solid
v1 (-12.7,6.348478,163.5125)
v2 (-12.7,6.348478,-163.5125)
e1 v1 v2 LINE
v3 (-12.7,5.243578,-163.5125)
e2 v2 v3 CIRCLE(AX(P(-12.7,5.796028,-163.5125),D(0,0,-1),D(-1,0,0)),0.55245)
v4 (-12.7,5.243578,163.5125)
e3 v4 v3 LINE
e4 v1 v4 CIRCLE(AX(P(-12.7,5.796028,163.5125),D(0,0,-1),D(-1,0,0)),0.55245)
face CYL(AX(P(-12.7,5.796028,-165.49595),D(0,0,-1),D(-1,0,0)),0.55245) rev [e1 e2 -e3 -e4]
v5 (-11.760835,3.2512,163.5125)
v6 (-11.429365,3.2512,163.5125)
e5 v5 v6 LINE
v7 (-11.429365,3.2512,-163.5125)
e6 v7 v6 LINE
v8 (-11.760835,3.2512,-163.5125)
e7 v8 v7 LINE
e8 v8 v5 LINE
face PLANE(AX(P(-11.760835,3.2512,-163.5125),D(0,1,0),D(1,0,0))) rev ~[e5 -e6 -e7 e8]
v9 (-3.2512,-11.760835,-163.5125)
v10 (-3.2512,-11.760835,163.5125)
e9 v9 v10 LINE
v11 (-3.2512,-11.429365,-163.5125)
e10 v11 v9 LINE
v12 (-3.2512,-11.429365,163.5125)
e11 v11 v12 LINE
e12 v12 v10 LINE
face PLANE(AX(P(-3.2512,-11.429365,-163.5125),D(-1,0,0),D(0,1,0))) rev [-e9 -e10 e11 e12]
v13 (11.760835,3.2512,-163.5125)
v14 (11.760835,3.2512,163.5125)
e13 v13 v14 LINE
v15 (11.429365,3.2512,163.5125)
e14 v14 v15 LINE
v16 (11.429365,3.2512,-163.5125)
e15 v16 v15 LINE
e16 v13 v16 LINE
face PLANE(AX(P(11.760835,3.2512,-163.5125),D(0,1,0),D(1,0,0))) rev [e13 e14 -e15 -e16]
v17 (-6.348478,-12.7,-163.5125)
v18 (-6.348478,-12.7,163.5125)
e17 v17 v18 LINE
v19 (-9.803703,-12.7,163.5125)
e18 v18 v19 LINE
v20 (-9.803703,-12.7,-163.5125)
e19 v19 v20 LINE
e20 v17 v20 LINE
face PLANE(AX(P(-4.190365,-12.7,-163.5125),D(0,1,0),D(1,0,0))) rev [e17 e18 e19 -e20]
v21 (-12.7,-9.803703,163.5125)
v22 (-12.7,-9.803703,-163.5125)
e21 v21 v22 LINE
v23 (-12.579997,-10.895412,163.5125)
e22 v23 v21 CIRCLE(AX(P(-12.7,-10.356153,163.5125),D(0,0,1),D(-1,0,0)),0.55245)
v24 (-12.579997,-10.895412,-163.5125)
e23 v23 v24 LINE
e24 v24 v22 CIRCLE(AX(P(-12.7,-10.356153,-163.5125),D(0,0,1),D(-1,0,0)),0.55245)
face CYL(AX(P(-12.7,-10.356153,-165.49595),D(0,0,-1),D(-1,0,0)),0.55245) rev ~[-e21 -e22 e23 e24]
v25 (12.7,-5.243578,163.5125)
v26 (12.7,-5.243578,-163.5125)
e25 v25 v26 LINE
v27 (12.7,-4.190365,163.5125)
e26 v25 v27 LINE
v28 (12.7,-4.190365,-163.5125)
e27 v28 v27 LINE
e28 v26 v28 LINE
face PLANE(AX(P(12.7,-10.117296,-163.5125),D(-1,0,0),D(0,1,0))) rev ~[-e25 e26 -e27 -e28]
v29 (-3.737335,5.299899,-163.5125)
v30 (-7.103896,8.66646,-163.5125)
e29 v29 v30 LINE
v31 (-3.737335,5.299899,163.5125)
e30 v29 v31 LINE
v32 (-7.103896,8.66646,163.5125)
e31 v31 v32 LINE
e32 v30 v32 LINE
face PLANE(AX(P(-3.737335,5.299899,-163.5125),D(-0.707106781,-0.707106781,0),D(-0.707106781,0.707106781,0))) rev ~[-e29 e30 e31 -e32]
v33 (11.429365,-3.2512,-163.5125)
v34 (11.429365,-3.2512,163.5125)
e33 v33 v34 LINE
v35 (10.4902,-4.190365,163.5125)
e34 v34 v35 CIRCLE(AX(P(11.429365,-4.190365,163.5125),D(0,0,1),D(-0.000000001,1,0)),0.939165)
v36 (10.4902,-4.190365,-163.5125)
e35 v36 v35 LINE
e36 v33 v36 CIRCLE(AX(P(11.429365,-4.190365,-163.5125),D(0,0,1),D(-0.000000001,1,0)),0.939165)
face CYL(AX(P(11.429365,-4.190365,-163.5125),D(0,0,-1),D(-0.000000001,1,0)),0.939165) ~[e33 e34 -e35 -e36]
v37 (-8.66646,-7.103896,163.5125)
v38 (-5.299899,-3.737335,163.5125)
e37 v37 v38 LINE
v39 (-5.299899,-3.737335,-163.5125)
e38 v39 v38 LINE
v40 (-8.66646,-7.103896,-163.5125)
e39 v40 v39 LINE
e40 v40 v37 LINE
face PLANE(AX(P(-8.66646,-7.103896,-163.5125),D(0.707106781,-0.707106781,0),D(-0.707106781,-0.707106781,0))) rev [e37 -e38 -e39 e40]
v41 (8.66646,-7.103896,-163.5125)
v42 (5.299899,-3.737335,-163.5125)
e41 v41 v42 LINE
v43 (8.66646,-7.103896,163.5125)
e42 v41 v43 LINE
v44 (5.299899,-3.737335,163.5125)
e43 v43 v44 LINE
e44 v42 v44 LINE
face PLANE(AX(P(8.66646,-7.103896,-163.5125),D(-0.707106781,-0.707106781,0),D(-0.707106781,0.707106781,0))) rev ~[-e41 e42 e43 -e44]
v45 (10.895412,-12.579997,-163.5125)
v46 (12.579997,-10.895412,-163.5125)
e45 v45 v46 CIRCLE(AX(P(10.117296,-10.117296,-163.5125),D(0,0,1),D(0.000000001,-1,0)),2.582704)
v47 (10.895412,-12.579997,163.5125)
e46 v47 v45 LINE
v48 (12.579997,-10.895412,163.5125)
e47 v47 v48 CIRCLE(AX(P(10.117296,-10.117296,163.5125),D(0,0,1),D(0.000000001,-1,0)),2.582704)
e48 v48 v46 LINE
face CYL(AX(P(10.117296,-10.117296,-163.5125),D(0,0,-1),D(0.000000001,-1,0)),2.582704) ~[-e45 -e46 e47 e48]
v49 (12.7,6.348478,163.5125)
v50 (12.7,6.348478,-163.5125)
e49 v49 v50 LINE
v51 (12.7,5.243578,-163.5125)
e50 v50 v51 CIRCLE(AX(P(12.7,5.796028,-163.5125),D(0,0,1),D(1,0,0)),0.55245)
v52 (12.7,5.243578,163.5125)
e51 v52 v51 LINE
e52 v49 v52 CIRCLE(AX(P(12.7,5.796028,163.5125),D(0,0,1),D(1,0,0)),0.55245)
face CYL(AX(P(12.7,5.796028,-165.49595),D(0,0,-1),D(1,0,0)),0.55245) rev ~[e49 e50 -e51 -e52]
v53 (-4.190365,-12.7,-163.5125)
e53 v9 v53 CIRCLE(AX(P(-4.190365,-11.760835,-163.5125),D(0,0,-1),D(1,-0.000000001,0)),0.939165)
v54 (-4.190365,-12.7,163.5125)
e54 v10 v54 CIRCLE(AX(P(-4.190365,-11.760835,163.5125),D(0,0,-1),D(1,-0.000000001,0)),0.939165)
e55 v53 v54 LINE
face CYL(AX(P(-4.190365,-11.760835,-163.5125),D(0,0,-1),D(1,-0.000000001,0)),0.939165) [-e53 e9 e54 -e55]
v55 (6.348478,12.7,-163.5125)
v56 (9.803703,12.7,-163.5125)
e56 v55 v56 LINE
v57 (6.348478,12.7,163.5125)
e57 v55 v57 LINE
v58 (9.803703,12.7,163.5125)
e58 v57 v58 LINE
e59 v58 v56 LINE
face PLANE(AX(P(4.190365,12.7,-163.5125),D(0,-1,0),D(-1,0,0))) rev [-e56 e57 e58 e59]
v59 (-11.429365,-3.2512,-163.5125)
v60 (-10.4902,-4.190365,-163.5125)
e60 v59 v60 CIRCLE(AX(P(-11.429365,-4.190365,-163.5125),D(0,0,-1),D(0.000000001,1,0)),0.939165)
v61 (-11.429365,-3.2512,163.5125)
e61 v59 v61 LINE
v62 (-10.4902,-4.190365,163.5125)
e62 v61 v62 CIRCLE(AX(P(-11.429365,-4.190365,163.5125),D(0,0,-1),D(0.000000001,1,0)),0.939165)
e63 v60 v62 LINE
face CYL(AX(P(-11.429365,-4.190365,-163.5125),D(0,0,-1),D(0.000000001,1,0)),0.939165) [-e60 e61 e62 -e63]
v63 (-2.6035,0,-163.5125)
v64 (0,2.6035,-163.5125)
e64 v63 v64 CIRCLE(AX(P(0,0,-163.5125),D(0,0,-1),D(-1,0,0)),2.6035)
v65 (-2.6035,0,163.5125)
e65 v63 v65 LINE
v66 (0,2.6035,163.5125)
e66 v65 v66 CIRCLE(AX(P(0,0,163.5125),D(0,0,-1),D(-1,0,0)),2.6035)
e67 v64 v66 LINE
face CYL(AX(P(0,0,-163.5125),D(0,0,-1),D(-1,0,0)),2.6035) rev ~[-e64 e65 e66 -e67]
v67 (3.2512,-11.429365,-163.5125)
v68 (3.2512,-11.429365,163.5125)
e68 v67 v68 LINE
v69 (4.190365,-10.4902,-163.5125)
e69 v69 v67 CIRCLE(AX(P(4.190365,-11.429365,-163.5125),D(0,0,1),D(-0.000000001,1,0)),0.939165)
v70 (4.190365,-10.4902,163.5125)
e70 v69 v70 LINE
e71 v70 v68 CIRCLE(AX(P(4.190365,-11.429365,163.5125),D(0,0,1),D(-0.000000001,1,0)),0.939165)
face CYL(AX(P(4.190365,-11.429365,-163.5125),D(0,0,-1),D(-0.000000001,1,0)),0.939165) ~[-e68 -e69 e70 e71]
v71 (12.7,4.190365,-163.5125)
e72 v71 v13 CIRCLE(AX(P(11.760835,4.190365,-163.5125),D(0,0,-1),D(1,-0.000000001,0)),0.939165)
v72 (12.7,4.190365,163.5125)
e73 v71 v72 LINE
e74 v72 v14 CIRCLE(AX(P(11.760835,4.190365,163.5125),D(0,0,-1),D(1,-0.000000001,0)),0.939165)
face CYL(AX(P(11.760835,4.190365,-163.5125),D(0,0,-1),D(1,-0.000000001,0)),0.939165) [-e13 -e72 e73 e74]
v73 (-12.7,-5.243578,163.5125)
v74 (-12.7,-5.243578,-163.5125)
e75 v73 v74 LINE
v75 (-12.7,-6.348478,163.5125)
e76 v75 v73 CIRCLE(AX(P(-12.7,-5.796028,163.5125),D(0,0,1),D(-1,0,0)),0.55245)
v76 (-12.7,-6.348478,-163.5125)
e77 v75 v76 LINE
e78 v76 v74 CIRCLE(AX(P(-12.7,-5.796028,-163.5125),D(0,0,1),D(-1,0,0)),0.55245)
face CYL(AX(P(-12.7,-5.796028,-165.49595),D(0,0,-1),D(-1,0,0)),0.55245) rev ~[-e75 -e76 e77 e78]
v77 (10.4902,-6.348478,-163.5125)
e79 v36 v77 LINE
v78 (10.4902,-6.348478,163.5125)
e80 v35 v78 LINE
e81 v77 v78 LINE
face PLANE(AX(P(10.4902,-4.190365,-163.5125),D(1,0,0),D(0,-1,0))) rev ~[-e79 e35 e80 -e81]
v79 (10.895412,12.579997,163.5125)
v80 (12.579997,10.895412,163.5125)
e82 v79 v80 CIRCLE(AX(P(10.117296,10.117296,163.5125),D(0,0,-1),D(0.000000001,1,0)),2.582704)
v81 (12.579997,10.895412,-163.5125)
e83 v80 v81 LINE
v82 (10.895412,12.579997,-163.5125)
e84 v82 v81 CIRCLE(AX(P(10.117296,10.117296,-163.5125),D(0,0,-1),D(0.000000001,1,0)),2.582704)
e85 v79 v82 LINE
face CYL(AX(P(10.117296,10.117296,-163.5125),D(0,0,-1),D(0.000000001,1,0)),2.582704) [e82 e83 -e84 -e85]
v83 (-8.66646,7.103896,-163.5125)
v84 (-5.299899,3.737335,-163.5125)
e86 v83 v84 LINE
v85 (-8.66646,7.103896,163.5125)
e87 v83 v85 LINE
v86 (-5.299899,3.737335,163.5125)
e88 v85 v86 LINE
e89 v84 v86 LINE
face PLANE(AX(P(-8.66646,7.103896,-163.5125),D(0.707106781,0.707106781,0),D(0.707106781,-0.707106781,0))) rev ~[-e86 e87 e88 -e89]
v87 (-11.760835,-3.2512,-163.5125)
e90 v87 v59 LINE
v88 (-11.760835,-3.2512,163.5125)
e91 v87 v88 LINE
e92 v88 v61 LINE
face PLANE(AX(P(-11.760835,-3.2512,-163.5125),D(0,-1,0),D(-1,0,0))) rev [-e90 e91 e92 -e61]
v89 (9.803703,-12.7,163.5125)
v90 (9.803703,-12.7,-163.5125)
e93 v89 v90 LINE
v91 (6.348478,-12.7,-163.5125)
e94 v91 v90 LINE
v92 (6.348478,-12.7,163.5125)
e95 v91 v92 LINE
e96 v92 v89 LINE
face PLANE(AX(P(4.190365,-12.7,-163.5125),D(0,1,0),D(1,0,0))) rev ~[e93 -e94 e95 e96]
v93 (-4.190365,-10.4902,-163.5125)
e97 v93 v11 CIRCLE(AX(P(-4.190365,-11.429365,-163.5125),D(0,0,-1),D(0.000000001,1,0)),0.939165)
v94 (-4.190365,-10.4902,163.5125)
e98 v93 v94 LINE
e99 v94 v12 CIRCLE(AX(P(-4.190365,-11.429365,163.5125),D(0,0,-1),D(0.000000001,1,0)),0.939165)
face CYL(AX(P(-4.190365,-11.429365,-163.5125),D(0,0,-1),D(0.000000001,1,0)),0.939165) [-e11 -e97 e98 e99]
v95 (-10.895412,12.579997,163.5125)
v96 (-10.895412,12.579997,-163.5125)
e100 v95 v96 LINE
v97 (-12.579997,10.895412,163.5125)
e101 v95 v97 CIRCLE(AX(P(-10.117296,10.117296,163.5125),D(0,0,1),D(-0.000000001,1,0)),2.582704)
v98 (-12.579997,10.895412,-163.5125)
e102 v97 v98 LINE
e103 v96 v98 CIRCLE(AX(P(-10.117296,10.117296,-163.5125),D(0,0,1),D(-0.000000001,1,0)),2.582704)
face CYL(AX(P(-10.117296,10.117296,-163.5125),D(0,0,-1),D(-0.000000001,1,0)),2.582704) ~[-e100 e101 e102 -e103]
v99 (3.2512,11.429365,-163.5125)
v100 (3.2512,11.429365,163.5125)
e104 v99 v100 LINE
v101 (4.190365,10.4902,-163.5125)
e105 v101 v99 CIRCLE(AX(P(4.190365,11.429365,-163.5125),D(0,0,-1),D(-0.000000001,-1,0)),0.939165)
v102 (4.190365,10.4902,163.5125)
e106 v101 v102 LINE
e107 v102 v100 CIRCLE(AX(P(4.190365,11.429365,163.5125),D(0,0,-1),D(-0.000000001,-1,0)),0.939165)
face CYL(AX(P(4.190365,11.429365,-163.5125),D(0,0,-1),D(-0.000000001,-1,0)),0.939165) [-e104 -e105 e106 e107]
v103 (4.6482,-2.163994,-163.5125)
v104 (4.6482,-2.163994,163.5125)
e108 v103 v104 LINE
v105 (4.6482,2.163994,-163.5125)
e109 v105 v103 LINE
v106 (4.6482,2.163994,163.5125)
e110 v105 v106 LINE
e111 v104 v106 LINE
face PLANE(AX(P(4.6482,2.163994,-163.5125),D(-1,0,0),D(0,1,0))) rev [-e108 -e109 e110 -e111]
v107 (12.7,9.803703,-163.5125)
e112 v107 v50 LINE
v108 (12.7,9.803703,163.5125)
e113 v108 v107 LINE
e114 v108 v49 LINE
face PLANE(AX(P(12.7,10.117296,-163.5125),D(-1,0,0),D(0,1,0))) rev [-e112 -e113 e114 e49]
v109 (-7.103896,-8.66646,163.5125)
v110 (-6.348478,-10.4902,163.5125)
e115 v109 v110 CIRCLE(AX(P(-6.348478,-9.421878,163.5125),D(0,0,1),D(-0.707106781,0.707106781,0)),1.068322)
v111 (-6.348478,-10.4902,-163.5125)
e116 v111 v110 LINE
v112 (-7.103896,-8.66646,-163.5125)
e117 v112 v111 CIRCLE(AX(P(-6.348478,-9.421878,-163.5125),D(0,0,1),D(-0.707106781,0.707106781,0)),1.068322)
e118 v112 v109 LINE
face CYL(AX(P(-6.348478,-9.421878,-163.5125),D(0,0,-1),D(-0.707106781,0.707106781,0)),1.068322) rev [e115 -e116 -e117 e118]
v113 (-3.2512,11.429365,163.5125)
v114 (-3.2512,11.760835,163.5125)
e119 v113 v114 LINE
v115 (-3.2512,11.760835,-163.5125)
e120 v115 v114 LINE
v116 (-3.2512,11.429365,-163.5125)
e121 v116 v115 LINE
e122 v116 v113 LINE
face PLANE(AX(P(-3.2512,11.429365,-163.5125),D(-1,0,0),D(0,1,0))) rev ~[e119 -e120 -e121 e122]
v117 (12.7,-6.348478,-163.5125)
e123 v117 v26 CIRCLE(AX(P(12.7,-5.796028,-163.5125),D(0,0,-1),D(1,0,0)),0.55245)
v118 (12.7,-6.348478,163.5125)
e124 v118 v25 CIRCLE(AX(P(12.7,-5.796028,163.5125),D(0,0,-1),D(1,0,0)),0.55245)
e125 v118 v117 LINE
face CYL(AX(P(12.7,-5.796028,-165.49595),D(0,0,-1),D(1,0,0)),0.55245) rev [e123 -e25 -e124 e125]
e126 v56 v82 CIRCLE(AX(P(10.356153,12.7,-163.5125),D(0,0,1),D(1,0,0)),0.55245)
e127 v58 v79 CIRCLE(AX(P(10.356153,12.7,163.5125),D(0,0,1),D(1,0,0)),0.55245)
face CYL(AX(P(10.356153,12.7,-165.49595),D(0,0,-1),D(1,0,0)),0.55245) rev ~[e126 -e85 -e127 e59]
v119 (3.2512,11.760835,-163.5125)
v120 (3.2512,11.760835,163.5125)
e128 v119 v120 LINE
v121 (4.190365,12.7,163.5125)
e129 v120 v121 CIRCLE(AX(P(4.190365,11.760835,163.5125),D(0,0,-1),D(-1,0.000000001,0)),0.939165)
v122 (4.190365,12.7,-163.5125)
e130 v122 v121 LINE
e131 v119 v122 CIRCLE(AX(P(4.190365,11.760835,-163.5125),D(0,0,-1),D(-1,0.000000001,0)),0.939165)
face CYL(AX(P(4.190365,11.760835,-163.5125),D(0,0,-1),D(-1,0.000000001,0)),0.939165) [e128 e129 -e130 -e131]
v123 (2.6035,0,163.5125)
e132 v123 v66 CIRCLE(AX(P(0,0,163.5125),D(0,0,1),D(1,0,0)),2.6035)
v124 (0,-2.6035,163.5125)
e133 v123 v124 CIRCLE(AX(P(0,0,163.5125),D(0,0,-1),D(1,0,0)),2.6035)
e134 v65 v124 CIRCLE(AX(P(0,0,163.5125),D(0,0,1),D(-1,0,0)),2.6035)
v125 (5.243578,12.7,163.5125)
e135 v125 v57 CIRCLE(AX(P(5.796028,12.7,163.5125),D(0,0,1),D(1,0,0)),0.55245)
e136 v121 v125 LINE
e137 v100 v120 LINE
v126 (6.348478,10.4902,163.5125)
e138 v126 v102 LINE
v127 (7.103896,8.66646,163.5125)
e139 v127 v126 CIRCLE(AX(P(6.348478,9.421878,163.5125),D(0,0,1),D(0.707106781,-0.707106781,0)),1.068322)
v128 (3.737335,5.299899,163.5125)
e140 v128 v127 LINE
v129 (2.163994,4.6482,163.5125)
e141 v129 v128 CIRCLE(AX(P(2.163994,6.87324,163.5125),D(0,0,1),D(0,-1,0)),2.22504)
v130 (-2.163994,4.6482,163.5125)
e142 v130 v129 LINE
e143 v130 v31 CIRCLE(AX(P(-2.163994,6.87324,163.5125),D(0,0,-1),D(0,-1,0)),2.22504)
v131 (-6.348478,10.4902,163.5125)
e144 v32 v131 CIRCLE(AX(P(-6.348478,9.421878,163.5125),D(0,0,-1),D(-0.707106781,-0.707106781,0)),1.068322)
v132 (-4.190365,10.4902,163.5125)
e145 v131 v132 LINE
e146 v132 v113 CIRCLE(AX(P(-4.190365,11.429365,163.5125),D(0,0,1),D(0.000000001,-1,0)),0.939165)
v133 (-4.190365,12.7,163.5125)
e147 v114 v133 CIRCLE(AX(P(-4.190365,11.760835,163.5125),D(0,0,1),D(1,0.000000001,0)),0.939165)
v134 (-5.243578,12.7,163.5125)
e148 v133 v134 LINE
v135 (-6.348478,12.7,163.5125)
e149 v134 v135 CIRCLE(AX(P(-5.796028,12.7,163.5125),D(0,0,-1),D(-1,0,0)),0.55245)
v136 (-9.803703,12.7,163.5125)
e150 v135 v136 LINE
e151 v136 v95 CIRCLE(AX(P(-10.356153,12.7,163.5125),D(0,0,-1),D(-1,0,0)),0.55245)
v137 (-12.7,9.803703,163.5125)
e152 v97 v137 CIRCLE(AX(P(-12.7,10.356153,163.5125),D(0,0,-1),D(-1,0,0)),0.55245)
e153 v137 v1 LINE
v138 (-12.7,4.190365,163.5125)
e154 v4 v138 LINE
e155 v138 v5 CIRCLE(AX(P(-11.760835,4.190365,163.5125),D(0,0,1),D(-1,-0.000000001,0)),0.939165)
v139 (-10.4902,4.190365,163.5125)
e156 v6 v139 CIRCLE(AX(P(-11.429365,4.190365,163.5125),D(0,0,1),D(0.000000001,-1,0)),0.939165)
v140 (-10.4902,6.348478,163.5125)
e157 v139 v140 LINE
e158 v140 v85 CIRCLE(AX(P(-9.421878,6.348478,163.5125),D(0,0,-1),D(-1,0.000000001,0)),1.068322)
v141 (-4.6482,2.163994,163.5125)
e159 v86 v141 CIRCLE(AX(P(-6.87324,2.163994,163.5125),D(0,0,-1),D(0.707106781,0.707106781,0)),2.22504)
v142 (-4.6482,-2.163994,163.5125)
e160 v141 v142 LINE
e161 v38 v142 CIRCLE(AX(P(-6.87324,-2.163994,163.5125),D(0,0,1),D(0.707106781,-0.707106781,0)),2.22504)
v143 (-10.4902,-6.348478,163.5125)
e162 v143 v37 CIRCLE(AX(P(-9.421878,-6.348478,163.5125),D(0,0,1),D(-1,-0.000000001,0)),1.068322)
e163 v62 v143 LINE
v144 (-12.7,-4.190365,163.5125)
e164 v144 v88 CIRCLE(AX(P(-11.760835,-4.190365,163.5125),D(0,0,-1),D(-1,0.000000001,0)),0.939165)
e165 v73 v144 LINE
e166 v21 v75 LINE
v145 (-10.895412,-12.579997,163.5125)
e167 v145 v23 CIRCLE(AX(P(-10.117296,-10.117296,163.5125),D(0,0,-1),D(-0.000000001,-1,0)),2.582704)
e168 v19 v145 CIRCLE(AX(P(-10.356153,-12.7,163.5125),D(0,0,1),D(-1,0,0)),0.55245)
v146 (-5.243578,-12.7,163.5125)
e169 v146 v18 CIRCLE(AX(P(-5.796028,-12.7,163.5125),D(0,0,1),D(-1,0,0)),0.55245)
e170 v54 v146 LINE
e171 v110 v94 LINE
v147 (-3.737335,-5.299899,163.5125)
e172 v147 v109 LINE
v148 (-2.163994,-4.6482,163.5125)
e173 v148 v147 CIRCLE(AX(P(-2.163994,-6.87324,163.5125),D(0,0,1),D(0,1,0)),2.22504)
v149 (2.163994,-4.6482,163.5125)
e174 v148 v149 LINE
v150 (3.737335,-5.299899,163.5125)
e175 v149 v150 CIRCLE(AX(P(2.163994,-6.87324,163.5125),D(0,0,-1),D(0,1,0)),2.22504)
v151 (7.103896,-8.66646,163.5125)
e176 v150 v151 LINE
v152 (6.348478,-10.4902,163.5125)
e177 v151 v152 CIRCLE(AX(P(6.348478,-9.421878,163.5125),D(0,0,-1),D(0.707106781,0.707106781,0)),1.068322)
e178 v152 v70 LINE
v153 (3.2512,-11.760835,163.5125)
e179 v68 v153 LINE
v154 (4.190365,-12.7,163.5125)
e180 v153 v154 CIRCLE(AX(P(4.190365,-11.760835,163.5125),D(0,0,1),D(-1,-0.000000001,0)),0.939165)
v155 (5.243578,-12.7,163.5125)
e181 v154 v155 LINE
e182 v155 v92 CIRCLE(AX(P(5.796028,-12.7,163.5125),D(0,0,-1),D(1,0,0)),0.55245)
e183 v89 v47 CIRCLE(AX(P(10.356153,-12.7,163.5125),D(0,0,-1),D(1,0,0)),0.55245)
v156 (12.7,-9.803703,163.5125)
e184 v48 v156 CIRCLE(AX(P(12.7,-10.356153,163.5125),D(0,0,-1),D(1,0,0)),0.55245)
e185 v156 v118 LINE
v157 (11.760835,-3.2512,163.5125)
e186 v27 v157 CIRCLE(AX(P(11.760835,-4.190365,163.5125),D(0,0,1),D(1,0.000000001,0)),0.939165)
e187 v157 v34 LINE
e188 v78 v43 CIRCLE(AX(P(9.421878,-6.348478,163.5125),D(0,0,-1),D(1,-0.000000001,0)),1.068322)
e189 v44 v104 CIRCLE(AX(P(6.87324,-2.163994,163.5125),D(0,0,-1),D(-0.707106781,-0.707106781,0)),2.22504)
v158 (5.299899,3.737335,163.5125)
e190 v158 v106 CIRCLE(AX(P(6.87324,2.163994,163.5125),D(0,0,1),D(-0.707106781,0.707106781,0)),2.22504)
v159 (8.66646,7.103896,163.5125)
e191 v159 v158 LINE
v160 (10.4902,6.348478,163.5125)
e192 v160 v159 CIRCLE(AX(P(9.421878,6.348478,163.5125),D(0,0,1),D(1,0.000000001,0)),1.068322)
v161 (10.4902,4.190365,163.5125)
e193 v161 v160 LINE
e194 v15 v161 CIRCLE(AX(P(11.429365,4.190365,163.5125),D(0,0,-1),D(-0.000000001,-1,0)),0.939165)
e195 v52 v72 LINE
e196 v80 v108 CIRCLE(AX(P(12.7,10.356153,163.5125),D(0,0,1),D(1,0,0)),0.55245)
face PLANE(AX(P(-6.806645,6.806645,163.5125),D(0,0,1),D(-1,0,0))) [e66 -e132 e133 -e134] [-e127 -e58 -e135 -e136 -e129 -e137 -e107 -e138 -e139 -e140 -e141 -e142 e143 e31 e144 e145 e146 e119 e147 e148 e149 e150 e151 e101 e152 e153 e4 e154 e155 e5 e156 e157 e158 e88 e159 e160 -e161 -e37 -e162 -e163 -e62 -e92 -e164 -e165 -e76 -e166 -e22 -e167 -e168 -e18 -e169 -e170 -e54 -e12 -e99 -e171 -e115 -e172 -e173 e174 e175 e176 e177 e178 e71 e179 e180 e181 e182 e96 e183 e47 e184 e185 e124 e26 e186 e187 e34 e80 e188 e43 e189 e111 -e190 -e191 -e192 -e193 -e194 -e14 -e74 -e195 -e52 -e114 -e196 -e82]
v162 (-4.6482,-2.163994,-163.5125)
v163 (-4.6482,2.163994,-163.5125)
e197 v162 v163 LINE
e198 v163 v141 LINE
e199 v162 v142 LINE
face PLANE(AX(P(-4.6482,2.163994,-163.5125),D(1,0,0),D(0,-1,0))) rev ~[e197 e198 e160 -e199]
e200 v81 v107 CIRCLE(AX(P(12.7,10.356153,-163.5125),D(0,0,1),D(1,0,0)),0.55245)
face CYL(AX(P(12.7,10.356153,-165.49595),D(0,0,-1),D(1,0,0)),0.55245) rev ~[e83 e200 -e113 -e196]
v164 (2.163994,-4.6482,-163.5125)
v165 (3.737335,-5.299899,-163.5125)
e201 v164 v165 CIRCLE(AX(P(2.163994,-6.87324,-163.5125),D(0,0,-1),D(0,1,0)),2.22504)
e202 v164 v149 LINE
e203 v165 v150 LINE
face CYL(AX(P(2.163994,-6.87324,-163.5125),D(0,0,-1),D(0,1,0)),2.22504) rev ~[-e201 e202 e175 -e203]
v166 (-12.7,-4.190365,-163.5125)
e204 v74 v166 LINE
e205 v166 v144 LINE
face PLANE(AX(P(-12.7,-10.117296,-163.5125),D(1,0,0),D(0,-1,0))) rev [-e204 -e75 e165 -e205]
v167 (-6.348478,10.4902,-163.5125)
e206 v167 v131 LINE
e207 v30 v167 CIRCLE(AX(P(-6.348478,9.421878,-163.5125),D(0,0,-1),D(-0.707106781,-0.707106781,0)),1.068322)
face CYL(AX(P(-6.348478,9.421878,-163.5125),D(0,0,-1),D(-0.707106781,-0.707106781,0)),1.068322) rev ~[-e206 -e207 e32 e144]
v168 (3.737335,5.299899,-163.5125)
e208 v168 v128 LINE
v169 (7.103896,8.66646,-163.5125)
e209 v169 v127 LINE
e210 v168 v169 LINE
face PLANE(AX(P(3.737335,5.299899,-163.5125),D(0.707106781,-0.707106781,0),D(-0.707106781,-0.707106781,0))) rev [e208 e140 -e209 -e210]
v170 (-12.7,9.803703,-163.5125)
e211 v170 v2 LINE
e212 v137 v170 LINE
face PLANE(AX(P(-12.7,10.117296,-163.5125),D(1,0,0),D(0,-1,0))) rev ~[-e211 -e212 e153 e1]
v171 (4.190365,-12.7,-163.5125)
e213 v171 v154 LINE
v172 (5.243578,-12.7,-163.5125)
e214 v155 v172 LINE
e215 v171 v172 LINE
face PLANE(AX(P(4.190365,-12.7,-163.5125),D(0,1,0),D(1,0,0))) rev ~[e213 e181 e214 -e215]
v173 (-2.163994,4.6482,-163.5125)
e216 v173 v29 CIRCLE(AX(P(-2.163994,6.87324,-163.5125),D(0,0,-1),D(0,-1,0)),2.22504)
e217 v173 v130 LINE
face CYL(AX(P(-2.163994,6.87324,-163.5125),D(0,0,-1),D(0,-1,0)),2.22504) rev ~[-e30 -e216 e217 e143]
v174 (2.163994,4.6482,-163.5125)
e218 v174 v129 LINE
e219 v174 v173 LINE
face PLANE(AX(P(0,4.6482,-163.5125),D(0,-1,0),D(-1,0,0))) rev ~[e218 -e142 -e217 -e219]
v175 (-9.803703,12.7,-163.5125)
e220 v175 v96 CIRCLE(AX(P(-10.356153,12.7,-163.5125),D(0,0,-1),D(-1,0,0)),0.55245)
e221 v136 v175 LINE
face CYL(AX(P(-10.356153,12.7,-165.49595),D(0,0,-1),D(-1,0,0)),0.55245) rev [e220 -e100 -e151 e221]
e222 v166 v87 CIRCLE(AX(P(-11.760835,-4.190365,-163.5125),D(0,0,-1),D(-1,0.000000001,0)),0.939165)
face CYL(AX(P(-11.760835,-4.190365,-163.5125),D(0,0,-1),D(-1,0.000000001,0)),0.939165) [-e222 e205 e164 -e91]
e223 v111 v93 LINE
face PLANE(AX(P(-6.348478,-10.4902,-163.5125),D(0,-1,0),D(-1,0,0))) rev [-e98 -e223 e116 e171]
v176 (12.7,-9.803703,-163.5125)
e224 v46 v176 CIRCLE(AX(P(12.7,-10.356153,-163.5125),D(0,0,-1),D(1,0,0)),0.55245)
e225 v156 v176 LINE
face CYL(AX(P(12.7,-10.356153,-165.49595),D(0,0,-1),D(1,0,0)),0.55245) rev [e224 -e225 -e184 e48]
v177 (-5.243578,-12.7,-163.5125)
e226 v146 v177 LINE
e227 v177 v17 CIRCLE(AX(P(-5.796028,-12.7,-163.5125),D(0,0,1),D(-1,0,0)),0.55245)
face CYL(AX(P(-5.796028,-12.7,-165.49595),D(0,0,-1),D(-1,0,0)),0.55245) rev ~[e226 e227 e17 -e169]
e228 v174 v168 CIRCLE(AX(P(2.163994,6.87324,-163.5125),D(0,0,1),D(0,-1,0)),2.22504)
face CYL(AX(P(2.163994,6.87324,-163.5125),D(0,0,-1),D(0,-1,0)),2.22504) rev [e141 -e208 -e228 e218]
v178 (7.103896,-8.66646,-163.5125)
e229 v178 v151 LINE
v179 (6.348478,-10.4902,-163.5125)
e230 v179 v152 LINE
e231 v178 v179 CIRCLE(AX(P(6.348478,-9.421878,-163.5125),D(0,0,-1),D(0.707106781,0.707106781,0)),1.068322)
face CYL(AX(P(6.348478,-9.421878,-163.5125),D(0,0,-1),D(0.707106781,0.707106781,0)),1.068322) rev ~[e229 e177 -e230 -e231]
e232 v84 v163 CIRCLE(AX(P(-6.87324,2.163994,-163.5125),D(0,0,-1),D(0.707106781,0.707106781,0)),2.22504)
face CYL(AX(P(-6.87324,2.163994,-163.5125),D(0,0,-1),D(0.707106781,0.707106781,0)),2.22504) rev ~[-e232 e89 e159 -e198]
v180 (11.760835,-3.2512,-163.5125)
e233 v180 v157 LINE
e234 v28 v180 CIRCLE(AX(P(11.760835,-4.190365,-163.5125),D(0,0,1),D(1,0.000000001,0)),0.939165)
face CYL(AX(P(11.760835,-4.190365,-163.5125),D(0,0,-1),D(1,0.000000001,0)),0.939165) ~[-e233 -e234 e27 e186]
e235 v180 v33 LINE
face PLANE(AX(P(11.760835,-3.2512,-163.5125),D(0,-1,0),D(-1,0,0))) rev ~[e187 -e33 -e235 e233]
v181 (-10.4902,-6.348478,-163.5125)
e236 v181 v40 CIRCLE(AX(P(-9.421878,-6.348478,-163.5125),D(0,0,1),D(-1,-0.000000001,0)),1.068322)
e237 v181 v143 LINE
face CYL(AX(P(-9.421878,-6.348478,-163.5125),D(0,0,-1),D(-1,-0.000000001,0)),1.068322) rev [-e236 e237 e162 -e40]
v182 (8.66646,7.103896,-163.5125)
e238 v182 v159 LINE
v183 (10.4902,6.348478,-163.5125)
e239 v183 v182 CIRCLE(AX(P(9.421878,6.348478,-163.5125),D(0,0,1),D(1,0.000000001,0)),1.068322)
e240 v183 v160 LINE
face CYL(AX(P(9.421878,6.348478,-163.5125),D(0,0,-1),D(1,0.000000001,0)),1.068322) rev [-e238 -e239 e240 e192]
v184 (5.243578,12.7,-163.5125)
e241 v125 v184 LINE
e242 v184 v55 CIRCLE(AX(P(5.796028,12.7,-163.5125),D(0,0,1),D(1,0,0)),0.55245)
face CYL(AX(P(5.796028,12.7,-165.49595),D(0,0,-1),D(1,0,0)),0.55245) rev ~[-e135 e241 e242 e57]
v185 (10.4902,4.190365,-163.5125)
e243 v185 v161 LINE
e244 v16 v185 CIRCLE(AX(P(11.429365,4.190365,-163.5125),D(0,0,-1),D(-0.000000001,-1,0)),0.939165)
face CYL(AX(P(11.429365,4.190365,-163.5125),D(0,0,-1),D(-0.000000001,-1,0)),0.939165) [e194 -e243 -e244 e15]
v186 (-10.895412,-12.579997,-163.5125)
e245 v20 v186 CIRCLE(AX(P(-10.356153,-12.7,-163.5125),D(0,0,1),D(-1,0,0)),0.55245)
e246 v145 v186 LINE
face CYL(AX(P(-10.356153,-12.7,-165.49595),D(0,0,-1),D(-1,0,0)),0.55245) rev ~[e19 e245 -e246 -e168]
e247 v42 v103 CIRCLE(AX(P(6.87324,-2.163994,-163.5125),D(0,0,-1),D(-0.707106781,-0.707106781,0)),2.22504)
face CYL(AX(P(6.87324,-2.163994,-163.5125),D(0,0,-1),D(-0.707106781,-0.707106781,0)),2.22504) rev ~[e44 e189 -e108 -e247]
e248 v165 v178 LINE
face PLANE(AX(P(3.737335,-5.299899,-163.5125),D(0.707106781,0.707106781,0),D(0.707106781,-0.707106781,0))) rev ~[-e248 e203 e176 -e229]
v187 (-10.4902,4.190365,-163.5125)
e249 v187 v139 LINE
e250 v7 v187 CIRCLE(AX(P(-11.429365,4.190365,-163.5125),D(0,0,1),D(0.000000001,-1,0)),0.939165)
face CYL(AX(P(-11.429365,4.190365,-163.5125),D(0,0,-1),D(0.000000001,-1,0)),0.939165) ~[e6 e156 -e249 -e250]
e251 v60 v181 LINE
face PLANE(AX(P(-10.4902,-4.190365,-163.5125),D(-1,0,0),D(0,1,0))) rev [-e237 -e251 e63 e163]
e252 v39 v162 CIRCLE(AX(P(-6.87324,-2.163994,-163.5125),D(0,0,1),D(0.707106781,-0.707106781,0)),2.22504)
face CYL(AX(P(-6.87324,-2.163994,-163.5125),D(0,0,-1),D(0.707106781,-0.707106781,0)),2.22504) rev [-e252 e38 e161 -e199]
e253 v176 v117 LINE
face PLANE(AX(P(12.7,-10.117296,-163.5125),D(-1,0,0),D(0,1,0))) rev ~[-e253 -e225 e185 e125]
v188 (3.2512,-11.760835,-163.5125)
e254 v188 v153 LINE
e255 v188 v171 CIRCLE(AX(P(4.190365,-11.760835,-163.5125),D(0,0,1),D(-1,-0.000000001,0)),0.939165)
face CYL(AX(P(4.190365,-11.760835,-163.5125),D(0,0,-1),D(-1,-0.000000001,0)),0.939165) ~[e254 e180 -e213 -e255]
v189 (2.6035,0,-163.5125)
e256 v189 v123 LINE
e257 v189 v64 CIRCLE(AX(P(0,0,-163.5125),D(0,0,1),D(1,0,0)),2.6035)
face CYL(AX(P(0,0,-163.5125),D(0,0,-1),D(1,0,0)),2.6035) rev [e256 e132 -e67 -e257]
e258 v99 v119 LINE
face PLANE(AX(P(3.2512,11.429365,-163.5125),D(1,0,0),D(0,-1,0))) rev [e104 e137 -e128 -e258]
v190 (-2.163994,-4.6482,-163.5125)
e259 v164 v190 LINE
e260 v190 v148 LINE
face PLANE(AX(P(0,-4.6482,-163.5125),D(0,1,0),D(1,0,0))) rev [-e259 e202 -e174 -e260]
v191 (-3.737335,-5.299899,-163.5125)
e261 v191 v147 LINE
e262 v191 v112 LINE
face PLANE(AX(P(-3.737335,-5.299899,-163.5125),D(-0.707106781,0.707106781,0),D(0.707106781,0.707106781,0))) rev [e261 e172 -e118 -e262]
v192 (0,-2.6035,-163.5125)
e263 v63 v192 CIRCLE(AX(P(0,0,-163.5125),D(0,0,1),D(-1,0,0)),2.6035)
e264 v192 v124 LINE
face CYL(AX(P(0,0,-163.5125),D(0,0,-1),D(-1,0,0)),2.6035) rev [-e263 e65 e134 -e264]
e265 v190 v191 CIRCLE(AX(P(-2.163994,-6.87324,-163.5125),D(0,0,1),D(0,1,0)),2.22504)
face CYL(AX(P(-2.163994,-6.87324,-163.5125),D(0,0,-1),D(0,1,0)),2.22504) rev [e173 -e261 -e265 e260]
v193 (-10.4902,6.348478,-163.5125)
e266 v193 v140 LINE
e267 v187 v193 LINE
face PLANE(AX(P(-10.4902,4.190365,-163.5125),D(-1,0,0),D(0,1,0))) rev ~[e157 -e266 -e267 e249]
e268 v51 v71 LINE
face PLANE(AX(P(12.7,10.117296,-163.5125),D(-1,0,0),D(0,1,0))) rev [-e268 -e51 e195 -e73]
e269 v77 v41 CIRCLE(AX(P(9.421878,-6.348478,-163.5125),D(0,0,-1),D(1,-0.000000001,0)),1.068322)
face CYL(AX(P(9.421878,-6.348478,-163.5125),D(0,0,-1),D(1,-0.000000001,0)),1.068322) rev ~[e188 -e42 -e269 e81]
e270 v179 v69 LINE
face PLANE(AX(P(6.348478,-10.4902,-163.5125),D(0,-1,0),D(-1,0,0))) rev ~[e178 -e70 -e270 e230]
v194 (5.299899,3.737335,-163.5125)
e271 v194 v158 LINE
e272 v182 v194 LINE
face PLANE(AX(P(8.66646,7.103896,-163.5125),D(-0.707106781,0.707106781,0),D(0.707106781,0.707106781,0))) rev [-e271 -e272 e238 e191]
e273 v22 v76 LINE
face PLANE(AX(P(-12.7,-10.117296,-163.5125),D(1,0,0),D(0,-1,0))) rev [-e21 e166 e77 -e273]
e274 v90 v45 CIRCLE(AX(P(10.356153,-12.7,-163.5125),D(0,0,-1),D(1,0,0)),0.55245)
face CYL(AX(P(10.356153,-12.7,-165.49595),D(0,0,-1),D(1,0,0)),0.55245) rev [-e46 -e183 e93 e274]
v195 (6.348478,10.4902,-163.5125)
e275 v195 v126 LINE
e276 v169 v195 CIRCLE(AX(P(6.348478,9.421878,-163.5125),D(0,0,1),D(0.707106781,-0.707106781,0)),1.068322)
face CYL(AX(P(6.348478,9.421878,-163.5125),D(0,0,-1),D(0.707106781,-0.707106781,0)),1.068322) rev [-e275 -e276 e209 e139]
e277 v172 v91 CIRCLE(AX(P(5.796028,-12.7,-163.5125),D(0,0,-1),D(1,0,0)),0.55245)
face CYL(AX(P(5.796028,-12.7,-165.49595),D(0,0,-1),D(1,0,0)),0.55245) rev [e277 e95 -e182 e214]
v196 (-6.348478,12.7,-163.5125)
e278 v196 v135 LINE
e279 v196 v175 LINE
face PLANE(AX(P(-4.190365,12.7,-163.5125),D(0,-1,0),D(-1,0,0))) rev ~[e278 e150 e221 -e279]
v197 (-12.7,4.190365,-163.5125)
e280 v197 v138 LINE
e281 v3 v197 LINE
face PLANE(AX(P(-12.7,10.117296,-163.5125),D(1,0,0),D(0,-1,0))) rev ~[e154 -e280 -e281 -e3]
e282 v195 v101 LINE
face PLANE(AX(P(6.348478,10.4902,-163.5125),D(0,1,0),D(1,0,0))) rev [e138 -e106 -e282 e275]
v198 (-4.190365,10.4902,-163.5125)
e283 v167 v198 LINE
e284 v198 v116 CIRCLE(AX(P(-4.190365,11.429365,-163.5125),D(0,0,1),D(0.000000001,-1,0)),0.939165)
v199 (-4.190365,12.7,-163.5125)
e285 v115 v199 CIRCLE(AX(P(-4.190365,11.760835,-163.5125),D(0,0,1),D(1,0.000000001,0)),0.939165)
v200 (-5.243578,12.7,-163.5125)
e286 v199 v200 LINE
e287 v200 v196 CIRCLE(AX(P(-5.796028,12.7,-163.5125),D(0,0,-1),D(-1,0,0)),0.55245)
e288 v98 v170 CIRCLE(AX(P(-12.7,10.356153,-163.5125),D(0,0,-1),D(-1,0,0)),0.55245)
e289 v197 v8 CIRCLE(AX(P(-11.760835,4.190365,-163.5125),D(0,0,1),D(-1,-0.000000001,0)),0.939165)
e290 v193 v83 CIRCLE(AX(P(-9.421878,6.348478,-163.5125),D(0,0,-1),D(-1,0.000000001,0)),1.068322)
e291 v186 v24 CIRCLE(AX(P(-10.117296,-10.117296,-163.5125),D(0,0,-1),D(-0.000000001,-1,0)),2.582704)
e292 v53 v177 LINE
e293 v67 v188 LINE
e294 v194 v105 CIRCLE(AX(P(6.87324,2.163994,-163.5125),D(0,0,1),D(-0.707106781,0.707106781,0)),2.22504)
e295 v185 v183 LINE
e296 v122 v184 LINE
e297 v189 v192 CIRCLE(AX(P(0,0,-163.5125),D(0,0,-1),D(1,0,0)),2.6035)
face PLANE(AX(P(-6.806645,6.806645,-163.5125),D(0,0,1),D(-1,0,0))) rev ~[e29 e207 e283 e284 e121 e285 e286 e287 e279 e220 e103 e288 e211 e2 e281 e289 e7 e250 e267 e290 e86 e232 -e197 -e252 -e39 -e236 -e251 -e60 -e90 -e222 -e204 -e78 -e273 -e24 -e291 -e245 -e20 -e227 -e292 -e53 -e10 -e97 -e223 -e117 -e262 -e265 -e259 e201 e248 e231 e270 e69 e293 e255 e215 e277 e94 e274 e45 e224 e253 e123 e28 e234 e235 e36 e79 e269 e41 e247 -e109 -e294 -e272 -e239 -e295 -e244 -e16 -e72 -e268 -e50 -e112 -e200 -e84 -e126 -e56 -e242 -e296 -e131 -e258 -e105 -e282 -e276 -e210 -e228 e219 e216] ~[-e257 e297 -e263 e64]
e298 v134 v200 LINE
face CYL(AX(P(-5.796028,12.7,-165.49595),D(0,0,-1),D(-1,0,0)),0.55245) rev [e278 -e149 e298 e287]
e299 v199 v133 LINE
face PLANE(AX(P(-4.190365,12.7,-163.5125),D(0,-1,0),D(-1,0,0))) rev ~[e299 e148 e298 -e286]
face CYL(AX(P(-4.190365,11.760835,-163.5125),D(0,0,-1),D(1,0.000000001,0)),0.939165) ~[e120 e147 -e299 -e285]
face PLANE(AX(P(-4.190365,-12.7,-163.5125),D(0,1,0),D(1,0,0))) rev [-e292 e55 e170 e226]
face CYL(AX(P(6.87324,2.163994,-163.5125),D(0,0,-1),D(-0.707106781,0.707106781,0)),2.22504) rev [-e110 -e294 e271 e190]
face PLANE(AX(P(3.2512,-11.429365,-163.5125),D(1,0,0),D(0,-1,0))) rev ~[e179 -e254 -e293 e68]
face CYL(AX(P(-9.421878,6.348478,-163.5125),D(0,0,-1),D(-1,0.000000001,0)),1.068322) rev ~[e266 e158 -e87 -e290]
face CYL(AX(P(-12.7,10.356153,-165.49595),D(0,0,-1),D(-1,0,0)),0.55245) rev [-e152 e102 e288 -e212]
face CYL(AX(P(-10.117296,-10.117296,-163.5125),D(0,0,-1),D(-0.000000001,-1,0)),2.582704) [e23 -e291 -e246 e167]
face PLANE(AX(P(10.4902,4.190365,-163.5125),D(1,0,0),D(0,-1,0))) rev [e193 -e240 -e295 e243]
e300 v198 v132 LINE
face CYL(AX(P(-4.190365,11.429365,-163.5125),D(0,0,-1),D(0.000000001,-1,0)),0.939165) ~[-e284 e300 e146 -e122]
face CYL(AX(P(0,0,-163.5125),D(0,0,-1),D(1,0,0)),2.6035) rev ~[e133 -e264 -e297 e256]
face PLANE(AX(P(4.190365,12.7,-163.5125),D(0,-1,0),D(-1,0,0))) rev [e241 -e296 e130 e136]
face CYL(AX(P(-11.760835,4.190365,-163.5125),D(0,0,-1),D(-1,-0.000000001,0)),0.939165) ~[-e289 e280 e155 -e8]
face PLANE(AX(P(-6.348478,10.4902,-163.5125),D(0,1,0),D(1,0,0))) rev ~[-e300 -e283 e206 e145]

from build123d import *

# Parameters (mm, degrees)
BOSS_EXTRUDE1_START     = -163.5125
BOSS_EXTRUDE1_DEPTH     = 327.025
CUT_EXTRUDE1_DEPTH      = 165.495950273
CUT_EXTRUDE1_DEPTH_BACK = 165.495950273
SKETCH5_R               = 0.55245


with BuildPart() as part:
    # Sketch4 → Boss-Extrude1 (new body)
    with BuildSketch(Plane.XY.offset(BOSS_EXTRUDE1_START)):
        with BuildLine():
            Line((4.190365, -12.7), (10.11729625, -12.7))
            ThreePointArc((10.11729625, -12.7), (11.943543585, -11.943543585), (12.7, -10.11729625))
            Line((12.7, -10.11729625), (12.7, -4.190365))
            ThreePointArc((12.7, -4.190365), (12.42492494, -3.52627506), (11.760835, -3.2512))
            Line((11.760835, -3.2512), (11.429365, -3.2512))
            ThreePointArc((11.429365, -3.2512), (10.76527506, -3.52627506), (10.4902, -4.190365))
            Line((10.4902, -4.190365), (10.4902, -6.348478019))
            ThreePointArc((10.4902, -6.348478019), (9.830707141, -7.335478831), (8.666460301, -7.103895736))
            Line((8.666460301, -7.103895736), (5.299899128, -3.737334563))
            ThreePointArc((5.299899128, -3.737334563), (4.817571085, -3.015479634), (4.6482, -2.16399369))
            Line((4.6482, -2.16399369), (4.6482, 0))
            Line((4.6482, 0), (2.6035, 0))
            ThreePointArc((2.6035, 0), (1.840952505, -1.840952505), (0, -2.6035))
            Line((0, -2.6035), (0, -4.6482))
            Line((0, -4.6482), (2.16399369, -4.6482))
            ThreePointArc((2.16399369, -4.6482), (3.015479634, -4.817571085), (3.737334563, -5.299899128))
            Line((3.737334563, -5.299899128), (7.103895736, -8.666460301))
            ThreePointArc((7.103895736, -8.666460301), (7.335478831, -9.830707141), (6.348478019, -10.4902))
            Line((6.348478019, -10.4902), (4.190365, -10.4902))
            ThreePointArc((4.190365, -10.4902), (3.52627506, -10.76527506), (3.2512, -11.429365))
            Line((3.2512, -11.429365), (3.2512, -11.760835))
            ThreePointArc((3.2512, -11.760835), (3.52627506, -12.42492494), (4.190365, -12.7))
        make_face()
    extrude(amount=BOSS_EXTRUDE1_DEPTH)

    # Sketch5 → Cut-Extrude1 (cut, two sides: drawn at the far end of the back side and taken through both)
    with BuildSketch(Plane.XY.offset(-CUT_EXTRUDE1_DEPTH_BACK)):
        with Locations((10.356153152, -12.7)):
            Circle(SKETCH5_R)
        with Locations((5.796028019, -12.7)):
            Circle(SKETCH5_R)
        with Locations((12.7, -10.356153152)):
            Circle(SKETCH5_R)
        with Locations((12.7, -5.796028019)):
            Circle(SKETCH5_R)
    extrude(amount=CUT_EXTRUDE1_DEPTH + CUT_EXTRUDE1_DEPTH_BACK, mode=Mode.SUBTRACT)

    # Mirror1: part across plane


with BuildPart() as part_1:
    add(part.part)
    add(part.part.mirror(Plane(origin=(0, 0, 0), x_dir=(0, 0, 1), z_dir=(1, 0, 0))))

    # Mirror2: part across plane


with BuildPart() as part_2:
    add(part_1.part)
    add(part_1.part.mirror(Plane.ZX))


solid = part_2.part
